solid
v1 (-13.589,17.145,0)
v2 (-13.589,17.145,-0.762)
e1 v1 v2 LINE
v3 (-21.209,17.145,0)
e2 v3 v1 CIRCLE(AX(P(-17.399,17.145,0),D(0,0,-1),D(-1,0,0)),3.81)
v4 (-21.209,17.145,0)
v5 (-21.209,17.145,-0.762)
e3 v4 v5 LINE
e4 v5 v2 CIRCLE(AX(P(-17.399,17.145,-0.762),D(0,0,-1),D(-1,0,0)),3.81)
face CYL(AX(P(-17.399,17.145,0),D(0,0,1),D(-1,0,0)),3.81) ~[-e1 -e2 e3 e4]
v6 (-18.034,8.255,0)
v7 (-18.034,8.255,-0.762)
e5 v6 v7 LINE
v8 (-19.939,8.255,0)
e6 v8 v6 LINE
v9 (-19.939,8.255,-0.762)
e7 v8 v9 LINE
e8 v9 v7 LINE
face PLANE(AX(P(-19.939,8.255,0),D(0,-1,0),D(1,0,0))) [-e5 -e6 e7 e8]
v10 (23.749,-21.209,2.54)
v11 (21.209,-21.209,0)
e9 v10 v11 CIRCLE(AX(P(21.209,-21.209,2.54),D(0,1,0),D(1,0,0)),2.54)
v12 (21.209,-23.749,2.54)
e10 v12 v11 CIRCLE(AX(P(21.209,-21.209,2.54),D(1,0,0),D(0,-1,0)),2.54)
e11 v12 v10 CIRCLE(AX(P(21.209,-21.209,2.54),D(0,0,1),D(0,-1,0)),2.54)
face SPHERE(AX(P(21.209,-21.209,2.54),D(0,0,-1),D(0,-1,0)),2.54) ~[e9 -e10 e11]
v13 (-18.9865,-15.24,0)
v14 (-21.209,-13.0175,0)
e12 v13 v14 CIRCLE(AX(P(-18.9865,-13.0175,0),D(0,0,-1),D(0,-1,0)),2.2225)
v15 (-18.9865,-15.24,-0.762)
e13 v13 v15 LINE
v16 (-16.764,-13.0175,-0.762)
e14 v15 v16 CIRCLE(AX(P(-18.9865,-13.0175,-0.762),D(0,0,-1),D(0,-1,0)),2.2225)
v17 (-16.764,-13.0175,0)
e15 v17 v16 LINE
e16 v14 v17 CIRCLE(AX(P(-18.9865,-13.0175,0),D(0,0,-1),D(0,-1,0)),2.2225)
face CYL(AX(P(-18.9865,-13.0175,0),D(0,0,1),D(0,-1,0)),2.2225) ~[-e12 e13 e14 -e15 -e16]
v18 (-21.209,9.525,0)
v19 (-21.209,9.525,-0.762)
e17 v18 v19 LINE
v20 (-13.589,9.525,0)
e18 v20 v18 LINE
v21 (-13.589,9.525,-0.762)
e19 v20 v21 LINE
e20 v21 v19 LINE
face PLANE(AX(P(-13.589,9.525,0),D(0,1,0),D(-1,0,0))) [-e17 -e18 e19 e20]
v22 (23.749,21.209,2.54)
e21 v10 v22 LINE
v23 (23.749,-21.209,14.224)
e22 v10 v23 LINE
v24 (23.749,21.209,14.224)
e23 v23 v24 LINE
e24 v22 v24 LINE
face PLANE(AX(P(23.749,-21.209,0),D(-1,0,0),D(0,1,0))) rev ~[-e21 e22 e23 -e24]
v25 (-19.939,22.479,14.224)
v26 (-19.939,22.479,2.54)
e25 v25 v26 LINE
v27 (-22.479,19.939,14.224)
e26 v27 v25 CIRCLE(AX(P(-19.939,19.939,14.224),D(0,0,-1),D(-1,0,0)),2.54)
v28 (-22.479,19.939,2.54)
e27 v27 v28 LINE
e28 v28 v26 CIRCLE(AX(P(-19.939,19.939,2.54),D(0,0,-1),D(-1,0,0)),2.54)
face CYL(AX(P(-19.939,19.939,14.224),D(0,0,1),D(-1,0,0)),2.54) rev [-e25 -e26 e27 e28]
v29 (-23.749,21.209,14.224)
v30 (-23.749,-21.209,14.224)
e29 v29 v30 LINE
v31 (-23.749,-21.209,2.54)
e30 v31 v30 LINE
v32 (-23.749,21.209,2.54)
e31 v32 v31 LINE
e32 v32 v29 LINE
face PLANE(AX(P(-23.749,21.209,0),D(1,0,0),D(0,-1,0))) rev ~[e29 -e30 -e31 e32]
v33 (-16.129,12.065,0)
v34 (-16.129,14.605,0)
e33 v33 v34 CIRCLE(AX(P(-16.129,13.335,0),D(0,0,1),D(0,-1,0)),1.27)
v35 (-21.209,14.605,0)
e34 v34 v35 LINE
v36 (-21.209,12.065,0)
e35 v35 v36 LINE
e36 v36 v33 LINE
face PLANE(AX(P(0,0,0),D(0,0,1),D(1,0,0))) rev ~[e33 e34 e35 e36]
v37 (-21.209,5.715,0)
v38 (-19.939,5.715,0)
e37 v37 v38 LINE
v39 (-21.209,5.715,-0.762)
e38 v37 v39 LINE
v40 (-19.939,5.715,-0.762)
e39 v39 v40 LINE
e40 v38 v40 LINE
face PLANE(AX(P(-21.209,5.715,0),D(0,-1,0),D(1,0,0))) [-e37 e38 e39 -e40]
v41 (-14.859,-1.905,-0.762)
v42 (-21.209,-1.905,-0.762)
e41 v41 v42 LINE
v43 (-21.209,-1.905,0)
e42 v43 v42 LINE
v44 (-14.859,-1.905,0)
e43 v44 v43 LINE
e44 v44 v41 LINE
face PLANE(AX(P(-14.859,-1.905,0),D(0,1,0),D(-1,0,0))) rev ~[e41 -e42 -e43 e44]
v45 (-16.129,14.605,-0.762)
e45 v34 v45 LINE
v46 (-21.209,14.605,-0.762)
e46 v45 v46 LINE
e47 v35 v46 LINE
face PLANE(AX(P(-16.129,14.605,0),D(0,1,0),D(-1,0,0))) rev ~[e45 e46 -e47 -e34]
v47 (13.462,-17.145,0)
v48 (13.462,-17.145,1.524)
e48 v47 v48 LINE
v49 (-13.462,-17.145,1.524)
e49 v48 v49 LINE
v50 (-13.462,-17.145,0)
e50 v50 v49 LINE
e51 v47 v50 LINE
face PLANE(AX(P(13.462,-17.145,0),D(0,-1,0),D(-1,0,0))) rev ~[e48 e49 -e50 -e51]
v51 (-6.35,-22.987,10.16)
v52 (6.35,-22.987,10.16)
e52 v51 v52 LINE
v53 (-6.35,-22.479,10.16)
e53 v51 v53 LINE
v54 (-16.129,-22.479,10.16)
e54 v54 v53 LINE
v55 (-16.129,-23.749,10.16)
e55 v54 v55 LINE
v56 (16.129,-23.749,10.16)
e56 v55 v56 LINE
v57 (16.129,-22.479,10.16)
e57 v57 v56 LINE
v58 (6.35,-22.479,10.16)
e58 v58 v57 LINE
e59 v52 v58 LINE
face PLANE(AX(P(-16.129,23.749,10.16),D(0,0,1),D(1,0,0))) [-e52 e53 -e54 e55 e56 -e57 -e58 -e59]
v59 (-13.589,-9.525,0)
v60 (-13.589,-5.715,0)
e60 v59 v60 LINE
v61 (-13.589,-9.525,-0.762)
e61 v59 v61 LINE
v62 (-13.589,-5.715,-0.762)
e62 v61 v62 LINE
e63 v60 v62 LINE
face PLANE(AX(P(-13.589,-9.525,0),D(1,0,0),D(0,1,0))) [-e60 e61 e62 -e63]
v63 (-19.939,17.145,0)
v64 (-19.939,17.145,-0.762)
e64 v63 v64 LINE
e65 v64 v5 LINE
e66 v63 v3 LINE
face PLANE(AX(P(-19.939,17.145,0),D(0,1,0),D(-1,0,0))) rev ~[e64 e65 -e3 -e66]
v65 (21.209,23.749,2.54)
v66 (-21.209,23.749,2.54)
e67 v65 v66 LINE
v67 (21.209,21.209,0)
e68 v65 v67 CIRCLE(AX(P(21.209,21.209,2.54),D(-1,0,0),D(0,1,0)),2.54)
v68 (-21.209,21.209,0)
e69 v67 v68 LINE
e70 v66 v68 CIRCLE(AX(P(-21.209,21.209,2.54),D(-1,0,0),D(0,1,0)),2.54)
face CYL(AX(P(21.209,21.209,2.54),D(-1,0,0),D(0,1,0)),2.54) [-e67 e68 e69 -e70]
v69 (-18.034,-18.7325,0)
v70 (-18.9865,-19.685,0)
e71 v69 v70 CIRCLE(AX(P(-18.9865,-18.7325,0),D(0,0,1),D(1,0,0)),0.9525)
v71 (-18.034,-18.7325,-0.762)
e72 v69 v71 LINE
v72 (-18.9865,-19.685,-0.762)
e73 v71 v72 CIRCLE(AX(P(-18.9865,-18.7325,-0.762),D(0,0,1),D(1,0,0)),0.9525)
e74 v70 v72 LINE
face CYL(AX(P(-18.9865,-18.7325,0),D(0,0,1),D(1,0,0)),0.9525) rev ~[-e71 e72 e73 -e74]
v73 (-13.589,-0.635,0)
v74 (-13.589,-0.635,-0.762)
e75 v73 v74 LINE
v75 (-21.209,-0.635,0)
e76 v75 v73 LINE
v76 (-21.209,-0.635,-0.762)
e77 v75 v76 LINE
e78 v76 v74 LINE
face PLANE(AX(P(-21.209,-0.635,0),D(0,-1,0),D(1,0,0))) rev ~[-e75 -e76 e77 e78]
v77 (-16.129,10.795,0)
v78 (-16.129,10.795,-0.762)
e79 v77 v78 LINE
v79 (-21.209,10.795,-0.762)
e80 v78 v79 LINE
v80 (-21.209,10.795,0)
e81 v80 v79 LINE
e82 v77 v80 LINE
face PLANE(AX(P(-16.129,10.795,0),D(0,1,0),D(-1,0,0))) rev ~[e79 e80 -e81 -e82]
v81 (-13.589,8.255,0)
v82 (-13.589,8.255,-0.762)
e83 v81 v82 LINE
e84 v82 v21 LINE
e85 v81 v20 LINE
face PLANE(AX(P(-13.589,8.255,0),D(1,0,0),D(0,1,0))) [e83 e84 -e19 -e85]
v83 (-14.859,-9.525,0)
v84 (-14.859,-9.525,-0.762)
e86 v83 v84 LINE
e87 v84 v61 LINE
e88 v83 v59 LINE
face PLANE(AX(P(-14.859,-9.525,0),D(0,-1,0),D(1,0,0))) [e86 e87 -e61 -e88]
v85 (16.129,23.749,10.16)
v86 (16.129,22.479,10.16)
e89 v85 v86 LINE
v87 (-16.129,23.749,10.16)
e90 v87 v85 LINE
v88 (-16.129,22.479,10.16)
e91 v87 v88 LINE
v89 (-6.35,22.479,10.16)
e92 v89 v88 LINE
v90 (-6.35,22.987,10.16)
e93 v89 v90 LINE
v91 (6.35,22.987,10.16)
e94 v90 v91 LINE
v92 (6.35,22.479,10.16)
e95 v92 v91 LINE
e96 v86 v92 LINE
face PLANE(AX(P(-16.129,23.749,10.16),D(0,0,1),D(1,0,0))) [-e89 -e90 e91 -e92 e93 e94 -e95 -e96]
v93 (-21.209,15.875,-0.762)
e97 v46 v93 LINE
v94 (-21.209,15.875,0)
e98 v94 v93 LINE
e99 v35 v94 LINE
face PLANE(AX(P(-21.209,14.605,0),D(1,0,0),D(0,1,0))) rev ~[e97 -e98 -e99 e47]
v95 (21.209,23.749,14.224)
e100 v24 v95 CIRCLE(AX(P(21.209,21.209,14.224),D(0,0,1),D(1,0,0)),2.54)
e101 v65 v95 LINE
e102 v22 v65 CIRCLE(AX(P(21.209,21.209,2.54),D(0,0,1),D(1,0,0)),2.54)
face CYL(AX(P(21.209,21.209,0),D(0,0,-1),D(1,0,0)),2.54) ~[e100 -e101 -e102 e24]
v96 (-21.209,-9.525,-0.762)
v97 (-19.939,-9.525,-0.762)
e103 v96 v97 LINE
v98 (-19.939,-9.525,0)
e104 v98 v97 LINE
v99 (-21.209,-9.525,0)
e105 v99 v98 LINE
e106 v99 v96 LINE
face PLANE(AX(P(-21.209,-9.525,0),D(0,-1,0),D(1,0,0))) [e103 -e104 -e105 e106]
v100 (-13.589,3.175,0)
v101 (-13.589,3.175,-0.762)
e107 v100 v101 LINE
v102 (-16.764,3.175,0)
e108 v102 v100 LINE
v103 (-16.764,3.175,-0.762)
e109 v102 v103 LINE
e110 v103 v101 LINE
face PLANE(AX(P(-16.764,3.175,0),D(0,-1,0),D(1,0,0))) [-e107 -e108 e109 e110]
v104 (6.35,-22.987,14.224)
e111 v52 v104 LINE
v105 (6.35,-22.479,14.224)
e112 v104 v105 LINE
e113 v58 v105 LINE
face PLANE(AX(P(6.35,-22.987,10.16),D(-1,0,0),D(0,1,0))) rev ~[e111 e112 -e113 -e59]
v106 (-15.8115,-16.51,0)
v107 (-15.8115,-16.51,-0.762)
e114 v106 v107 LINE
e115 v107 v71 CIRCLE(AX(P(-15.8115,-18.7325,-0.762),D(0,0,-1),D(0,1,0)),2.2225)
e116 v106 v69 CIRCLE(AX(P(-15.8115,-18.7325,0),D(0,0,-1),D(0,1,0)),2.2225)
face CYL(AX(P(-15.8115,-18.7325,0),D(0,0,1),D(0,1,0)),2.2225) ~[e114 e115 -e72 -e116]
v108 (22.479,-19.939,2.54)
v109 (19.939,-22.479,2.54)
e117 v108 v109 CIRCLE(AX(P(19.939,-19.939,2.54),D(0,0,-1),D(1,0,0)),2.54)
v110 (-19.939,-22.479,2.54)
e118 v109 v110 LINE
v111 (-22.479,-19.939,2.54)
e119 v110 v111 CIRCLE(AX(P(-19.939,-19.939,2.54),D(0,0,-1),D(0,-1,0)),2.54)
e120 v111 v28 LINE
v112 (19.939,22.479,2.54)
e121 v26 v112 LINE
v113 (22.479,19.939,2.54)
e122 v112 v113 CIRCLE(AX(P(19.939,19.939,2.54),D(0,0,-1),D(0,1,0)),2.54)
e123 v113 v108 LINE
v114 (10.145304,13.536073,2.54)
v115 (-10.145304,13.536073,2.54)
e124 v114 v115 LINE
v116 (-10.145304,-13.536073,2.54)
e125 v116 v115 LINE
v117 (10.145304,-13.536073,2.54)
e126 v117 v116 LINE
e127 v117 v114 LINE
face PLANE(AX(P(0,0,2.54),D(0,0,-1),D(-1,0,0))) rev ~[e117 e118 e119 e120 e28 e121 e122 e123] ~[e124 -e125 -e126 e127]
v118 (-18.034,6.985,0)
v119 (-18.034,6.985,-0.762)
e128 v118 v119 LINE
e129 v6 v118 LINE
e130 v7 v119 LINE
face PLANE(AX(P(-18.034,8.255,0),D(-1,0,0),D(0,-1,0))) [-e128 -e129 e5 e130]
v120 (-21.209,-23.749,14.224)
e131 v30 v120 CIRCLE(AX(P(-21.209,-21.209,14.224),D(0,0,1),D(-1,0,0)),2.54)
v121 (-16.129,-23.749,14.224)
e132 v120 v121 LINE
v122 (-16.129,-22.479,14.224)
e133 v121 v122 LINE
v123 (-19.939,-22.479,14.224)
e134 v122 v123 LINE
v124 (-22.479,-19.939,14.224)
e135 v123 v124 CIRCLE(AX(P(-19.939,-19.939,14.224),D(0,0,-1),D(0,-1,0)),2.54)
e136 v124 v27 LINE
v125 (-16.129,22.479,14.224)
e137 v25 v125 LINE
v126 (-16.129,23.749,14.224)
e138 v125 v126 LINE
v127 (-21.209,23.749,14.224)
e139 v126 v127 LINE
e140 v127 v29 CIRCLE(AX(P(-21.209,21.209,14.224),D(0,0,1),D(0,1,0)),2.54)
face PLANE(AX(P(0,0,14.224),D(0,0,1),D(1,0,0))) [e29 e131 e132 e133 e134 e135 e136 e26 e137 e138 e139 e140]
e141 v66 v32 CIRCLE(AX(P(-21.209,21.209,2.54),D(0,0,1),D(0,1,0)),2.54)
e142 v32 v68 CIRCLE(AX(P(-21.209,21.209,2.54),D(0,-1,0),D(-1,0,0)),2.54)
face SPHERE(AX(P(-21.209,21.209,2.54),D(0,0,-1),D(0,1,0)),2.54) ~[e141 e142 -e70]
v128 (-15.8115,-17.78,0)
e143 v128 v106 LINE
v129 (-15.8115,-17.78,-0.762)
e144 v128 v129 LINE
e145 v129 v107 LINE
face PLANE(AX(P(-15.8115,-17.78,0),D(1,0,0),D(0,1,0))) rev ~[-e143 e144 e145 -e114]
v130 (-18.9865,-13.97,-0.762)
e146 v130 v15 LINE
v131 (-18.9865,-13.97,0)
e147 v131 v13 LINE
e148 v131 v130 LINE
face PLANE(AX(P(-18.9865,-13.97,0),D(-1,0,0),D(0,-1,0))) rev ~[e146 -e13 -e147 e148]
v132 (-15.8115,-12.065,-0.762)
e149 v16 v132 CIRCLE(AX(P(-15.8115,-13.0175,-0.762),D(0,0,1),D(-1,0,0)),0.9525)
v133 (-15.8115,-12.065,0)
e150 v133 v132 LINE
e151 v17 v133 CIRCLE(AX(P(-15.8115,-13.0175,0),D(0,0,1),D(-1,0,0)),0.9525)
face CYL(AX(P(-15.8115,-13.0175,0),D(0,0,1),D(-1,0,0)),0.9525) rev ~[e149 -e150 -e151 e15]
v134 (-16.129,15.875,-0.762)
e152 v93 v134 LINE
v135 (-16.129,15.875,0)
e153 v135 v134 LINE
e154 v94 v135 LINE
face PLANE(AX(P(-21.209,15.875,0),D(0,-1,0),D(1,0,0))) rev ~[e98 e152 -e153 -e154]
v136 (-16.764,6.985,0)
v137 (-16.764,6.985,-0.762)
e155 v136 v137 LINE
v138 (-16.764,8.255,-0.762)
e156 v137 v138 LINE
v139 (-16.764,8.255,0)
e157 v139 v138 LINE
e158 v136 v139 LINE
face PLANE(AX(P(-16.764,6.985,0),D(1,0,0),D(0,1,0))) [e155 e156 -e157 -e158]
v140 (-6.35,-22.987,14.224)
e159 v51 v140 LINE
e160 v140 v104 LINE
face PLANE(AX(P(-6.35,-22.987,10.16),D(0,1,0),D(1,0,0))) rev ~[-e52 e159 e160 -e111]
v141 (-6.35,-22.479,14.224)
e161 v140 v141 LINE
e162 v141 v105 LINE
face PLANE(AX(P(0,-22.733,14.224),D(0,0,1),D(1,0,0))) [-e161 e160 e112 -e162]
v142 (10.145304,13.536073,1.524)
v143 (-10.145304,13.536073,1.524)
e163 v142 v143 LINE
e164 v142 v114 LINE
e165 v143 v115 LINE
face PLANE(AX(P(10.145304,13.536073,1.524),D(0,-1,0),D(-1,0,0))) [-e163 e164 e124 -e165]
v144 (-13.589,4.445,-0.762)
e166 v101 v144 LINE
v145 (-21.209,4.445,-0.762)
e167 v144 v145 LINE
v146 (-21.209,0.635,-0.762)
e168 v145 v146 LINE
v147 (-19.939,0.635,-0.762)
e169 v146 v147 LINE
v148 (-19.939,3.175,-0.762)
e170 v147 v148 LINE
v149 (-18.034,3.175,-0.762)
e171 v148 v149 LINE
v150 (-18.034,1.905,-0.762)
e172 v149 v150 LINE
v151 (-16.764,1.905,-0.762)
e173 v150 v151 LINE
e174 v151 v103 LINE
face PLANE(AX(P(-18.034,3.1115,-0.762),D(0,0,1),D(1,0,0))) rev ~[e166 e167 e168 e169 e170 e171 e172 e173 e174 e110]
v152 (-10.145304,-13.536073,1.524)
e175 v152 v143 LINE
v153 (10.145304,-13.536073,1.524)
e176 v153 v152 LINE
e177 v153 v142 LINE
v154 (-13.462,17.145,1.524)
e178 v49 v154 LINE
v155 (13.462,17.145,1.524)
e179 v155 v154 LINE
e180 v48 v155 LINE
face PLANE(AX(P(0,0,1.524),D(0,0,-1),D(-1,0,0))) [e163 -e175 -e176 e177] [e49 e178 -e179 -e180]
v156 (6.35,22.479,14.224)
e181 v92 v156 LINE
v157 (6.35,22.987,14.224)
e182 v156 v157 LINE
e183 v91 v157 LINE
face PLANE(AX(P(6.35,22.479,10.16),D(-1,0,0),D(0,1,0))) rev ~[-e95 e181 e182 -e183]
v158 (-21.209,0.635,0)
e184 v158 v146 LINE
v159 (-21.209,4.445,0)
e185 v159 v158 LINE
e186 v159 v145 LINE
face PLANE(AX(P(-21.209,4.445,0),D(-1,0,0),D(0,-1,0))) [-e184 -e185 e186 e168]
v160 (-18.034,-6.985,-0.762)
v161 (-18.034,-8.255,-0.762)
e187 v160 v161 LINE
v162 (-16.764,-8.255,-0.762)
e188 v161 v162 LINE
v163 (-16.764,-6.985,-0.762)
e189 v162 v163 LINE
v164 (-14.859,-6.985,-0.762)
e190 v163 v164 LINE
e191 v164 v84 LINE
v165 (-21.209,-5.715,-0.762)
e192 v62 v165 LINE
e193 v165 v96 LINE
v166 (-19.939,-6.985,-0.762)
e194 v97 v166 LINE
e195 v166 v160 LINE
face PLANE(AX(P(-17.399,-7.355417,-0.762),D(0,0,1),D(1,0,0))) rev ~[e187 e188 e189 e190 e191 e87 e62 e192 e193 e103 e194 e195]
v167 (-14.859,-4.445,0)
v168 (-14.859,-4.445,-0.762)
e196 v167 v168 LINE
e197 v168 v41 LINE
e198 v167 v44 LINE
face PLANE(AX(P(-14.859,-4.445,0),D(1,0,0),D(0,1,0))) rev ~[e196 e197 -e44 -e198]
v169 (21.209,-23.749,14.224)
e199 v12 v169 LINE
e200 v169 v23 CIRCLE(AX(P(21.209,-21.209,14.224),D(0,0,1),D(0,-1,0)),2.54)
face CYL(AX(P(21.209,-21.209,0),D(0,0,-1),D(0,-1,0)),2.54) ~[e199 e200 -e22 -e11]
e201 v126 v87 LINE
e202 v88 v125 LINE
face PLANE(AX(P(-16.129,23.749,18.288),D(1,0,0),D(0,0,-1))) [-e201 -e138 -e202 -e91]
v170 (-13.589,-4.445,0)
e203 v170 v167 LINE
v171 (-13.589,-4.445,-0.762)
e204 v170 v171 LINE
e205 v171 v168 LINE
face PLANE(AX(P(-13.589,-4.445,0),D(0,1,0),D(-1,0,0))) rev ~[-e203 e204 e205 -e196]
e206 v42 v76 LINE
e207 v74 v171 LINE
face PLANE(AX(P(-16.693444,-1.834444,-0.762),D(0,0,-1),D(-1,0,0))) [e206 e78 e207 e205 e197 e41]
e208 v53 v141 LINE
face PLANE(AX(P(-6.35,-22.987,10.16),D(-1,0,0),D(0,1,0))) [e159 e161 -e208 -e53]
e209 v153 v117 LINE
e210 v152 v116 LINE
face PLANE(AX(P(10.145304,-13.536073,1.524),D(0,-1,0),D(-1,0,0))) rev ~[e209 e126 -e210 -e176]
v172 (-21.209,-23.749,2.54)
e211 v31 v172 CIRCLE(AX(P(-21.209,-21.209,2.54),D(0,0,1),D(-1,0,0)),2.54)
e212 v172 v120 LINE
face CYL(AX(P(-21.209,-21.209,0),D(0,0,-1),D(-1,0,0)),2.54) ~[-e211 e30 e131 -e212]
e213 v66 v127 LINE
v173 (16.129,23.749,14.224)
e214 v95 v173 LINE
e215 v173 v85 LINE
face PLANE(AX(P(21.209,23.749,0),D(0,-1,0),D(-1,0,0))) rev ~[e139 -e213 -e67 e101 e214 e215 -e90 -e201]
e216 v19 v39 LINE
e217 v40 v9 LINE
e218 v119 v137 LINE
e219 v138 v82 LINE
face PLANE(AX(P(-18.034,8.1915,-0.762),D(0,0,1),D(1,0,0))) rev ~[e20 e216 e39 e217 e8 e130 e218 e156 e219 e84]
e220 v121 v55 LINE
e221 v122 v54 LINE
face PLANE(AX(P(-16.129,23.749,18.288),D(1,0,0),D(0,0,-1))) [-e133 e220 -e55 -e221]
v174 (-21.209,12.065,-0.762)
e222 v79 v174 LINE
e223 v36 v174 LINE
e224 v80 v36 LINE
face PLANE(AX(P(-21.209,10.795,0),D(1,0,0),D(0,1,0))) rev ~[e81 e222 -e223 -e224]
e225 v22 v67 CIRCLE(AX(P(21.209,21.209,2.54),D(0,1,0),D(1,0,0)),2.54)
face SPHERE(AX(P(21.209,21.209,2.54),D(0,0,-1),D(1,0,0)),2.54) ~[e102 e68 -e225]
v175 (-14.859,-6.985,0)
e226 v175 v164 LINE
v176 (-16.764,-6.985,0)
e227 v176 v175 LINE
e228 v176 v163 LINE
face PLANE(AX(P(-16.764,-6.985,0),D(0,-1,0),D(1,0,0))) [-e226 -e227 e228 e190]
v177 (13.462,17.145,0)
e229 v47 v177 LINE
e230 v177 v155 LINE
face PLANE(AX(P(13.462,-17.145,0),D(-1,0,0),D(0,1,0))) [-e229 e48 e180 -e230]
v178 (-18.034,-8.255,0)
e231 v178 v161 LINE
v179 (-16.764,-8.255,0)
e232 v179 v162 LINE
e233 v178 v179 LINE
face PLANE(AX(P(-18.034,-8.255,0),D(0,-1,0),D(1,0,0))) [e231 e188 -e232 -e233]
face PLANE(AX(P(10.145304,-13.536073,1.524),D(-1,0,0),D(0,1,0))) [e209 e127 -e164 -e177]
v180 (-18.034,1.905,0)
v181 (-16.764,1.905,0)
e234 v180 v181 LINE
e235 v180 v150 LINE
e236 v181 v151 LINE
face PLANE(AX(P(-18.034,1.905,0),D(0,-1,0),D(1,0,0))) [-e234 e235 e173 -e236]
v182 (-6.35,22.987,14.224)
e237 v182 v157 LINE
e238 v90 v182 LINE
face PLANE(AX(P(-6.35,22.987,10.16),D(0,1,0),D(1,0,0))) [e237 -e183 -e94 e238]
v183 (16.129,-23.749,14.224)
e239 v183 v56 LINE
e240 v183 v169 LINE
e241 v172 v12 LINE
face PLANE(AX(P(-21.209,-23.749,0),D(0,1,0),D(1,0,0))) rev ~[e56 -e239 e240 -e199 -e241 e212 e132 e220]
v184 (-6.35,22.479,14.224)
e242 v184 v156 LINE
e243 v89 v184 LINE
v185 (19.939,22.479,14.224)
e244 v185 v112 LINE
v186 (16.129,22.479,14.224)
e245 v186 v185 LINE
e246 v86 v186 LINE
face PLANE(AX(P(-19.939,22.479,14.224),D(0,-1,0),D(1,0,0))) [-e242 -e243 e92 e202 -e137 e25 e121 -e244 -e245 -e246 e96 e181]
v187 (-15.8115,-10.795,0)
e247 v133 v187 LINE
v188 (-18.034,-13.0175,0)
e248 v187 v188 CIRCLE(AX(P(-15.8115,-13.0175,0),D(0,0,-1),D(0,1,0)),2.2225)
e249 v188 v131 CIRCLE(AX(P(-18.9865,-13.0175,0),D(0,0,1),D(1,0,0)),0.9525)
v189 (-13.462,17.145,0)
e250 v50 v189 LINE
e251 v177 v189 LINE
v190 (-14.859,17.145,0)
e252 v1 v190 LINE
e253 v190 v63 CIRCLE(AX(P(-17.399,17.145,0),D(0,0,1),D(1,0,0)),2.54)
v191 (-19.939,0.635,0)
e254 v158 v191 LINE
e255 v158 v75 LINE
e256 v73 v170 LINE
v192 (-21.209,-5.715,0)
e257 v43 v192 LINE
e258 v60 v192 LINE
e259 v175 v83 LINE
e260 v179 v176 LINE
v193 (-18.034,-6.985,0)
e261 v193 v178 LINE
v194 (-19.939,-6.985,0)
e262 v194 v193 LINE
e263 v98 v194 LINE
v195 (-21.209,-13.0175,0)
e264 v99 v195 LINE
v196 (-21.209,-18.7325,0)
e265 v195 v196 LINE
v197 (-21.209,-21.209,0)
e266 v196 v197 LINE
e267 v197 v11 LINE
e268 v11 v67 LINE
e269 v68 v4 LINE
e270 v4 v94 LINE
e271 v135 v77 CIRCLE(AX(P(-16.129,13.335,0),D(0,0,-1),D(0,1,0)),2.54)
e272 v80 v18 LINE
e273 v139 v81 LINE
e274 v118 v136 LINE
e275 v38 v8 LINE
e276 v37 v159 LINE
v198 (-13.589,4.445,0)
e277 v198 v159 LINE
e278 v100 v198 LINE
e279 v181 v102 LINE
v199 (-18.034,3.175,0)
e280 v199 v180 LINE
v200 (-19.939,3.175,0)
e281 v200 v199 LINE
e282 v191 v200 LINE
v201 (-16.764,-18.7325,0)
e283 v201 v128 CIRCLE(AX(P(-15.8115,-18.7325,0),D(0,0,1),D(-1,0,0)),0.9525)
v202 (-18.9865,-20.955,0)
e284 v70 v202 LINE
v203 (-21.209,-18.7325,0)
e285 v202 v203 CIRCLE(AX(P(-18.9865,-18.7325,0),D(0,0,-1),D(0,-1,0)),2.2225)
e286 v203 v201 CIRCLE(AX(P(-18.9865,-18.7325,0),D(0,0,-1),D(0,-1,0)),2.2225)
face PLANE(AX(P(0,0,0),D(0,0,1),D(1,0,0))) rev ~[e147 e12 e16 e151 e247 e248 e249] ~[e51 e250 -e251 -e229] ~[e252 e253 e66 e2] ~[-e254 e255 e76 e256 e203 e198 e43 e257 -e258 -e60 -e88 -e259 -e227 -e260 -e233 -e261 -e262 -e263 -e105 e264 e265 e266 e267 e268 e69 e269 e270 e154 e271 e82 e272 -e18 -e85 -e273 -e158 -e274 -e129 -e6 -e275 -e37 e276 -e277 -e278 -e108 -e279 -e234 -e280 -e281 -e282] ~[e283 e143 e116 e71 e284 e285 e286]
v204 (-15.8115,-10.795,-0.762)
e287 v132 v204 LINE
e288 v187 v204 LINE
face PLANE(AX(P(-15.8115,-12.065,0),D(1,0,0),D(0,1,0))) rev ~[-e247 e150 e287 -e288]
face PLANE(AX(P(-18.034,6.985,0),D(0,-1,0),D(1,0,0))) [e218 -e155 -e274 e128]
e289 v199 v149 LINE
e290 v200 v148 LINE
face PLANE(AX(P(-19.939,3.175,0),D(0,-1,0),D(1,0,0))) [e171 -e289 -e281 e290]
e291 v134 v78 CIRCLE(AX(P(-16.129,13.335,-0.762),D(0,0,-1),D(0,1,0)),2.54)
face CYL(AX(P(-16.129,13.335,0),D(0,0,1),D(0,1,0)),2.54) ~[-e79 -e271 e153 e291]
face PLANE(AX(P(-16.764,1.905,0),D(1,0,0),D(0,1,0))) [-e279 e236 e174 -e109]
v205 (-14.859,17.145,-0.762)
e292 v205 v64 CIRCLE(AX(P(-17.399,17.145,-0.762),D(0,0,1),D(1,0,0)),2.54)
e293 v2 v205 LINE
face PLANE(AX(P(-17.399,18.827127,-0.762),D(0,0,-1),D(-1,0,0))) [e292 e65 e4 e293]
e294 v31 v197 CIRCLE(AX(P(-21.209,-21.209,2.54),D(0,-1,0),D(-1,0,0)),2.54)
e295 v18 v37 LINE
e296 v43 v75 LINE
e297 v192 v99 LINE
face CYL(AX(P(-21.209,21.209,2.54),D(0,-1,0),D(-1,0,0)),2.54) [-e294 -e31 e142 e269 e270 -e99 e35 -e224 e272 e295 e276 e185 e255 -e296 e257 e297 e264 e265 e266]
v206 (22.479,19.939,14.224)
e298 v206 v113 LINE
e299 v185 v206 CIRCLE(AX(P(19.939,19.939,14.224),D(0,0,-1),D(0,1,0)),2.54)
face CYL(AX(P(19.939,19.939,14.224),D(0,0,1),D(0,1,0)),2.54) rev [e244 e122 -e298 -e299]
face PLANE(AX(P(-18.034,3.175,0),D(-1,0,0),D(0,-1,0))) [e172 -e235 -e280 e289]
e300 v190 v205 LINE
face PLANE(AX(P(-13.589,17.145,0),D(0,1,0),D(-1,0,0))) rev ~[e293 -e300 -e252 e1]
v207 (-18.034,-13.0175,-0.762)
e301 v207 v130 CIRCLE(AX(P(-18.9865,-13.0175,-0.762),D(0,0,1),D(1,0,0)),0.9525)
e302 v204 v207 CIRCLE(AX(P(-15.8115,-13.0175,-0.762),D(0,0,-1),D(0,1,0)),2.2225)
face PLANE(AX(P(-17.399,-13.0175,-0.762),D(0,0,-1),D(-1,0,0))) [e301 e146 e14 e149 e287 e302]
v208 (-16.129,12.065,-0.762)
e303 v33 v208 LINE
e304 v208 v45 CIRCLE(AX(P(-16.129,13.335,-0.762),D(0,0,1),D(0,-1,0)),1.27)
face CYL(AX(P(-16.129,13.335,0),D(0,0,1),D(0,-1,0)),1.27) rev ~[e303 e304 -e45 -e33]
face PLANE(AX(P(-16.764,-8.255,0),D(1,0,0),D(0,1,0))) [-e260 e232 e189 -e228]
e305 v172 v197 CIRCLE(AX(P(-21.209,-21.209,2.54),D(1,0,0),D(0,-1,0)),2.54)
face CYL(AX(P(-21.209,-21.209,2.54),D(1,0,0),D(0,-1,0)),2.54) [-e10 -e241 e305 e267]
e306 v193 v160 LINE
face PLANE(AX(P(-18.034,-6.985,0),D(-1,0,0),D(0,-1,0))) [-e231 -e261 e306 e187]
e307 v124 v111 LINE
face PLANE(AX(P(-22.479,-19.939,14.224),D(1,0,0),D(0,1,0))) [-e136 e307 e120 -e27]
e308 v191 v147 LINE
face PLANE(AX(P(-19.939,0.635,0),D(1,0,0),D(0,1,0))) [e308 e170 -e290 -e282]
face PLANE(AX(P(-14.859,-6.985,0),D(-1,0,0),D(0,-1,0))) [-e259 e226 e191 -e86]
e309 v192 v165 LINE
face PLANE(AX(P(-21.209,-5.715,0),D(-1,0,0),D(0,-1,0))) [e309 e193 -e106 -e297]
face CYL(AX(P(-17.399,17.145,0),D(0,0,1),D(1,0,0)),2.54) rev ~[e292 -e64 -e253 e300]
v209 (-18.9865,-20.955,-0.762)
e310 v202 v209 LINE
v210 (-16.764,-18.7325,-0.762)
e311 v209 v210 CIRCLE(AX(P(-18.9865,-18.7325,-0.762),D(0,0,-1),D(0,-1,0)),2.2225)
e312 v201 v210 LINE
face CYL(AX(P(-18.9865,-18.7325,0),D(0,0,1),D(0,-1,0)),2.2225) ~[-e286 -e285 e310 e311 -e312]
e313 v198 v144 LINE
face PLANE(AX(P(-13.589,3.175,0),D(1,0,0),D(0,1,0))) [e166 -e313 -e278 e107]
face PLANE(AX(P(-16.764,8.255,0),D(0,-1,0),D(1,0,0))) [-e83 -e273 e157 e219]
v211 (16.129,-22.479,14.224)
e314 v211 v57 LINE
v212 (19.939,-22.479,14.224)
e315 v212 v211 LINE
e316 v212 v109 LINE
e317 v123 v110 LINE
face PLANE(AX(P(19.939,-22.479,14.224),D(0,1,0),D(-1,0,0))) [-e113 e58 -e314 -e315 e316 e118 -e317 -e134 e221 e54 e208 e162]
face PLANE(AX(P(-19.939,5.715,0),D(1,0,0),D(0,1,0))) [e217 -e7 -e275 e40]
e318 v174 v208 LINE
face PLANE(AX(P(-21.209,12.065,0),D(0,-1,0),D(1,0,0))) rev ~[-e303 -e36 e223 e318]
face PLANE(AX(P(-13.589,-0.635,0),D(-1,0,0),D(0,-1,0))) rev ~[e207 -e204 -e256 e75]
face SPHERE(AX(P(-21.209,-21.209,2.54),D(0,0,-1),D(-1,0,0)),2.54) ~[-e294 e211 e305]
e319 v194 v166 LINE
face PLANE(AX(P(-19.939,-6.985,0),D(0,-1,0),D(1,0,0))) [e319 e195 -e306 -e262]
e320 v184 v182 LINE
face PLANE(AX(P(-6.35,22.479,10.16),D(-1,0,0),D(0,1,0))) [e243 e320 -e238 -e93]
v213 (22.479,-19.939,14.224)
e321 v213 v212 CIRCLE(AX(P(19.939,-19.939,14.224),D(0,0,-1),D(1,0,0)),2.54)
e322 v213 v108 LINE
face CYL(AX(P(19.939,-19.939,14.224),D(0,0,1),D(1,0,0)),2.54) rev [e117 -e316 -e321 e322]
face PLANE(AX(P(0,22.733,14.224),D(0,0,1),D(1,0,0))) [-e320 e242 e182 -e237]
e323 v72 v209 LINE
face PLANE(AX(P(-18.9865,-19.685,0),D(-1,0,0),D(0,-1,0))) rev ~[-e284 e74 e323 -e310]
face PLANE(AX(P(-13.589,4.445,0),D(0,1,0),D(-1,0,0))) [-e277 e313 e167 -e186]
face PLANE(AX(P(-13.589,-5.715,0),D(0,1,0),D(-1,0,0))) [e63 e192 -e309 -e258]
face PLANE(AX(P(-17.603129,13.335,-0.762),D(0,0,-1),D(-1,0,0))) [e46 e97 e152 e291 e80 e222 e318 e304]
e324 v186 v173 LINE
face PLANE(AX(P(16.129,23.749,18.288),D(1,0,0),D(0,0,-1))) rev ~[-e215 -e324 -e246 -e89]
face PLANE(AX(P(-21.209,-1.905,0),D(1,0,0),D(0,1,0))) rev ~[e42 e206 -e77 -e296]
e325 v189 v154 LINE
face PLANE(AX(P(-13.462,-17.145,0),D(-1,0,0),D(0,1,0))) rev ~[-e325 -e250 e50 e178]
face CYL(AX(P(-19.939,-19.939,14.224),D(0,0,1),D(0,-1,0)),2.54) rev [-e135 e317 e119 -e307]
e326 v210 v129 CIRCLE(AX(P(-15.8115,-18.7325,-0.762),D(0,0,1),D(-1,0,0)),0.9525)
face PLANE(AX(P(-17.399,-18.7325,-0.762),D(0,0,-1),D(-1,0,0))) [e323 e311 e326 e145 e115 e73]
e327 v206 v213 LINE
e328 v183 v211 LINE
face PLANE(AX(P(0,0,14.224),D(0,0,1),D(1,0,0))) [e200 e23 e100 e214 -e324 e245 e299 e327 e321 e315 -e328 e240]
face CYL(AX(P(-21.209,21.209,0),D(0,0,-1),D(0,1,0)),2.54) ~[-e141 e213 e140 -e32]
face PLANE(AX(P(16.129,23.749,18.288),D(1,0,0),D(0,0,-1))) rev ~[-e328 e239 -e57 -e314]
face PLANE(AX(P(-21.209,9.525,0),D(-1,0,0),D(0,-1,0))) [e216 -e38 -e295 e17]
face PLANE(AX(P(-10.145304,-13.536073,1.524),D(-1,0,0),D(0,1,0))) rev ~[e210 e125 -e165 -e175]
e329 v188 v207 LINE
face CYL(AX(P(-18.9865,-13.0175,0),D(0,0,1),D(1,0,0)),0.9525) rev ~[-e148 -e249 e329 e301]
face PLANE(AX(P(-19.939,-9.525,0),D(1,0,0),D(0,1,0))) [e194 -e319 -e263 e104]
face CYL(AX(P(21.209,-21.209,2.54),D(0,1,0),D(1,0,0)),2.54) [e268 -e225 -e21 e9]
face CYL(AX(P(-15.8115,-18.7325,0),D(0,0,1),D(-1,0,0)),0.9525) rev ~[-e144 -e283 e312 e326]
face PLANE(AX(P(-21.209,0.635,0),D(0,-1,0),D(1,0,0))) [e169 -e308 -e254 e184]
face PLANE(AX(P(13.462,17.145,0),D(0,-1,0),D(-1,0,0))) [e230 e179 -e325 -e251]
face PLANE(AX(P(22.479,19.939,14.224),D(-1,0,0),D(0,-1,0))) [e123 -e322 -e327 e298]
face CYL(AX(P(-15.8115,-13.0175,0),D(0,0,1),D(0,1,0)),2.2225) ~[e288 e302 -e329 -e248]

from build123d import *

# Parameters (mm, degrees)
BOSS_EXTRUDE1_DEPTH     = 14.224
CUT_EXTRUDE1_DEPTH      = 11.684
FILLET1_R               = 2.54
SKETCH3_W               = 32.258
SKETCH3_H               = 8.128
CUT_EXTRUDE2_DEPTH      = 1
CUT_EXTRUDE2_DEPTH_BACK = 48.498
SKETCH5_W               = 26.924
SKETCH5_H               = 34.29
CUT_EXTRUDE4_DEPTH      = 1.524
SKETCH6_W               = 20.290608306
SKETCH6_H               = 27.072145664
CUT_EXTRUDE5_DEPTH      = 1.524
BOSS_EXTRUDE2_DEPTH     = 0.762
SKETCH8_W               = 12.7
SKETCH8_H               = 0.508
BOSS_EXTRUDE3_DEPTH     = 4.064


with BuildPart() as part:
    # Sketch1 → Boss-Extrude1 (new body)
    with BuildSketch(Plane.XY):
        with BuildLine():
            Line((-21.209, -23.749), (21.209, -23.749))
            ThreePointArc((21.209, -23.749), (23.005051224, -23.005051224), (23.749, -21.209))
            Line((23.749, -21.209), (23.749, 21.209))
            ThreePointArc((23.749, 21.209), (23.005051224, 23.005051224), (21.209, 23.749))
            Line((21.209, 23.749), (-21.209, 23.749))
            ThreePointArc((-21.209, 23.749), (-23.005051224, 23.005051224), (-23.749, 21.209))
            Line((-23.749, 21.209), (-23.749, -21.209))
            ThreePointArc((-23.749, -21.209), (-23.005051224, -23.005051224), (-21.209, -23.749))
        make_face()
    extrude(amount=BOSS_EXTRUDE1_DEPTH)

    # Sketch2 → Cut-Extrude1 (cut)
    with BuildSketch(Plane.XY.offset(14.224)):
        with BuildLine():
            Line((19.939, -22.479), (-19.939, -22.479))
            ThreePointArc((-19.939, -22.479), (-21.735051224, -21.735051224), (-22.479, -19.939))
            Line((-22.479, -19.939), (-22.479, 19.939))
            ThreePointArc((-22.479, 19.939), (-21.735051224, 21.735051224), (-19.939, 22.479))
            Line((-19.939, 22.479), (19.939, 22.479))
            ThreePointArc((19.939, 22.479), (21.735051224, 21.735051224), (22.479, 19.939))
            Line((22.479, 19.939), (22.479, -19.939))
            ThreePointArc((22.479, -19.939), (21.735051224, -21.735051224), (19.939, -22.479))
        make_face()
    extrude(amount=-CUT_EXTRUDE1_DEPTH, mode=Mode.SUBTRACT)

    # Fillet1
    fillet1_edges = [part.edges().sort_by_distance(p)[0] for p in [
        (0, -23.749, 0),
        (-23.005051224, -23.005051224, 0),
        (-23.749, 0, 0),
        (-23.005051224, 23.005051224, 0),
        (0, 23.749, 0),
        (23.005051224, 23.005051224, 0),
        (23.749, 0, 0),
        (23.005051224, -23.005051224, 0),
    ]]
    fillet(fillet1_edges, radius=FILLET1_R)

    # Sketch3 → Cut-Extrude2 (cut, two sides)
    with BuildSketch(Plane(origin=(0, 23.749, 0), x_dir=(1, 0, 0), z_dir=(0, 1, 0))) as cut_extrude2_sk:
        with Locations((0, -14.224)):
            Rectangle(SKETCH3_W, SKETCH3_H)
    extrude(amount=CUT_EXTRUDE2_DEPTH, mode=Mode.SUBTRACT)
    extrude(cut_extrude2_sk.sketch, amount=-CUT_EXTRUDE2_DEPTH_BACK, mode=Mode.SUBTRACT)

    # Sketch5 → Cut-Extrude4 (cut)
    with BuildSketch(Plane(origin=(0, 0, 0), x_dir=(-1, 0, 0), z_dir=(0, 0, -1))):
        Rectangle(SKETCH5_W, SKETCH5_H)
    extrude(amount=-CUT_EXTRUDE4_DEPTH, mode=Mode.SUBTRACT)

    # Sketch6 → Cut-Extrude5 (cut)
    with BuildSketch(Plane(origin=(0, 0, 1.524), x_dir=(-1, 0, 0), z_dir=(0, 0, -1))):
        Rectangle(SKETCH6_W, SKETCH6_H)
    extrude(amount=-CUT_EXTRUDE5_DEPTH, mode=Mode.SUBTRACT)

    # Sketch7 → Boss-Extrude2 (add)
    with BuildSketch(Plane(origin=(0, 0, 0), x_dir=(-1, 0, 0), z_dir=(0, 0, -1))):
        with BuildLine():
            Line((19.939, 17.145), (21.209, 17.145))
            ThreePointArc((21.209, 17.145), (17.399, 20.955), (13.589, 17.145))
            Line((13.589, 17.145), (14.859, 17.145))
            ThreePointArc((14.859, 17.145), (17.399, 19.685), (19.939, 17.145))
        make_face()
        with BuildLine():
            Line((21.209, 15.875), (16.129, 15.875))
            ThreePointArc((16.129, 15.875), (13.589, 13.335), (16.129, 10.795))
            Line((16.129, 10.795), (21.209, 10.795))
            Line((21.209, 10.795), (21.209, 12.065))
            Line((21.209, 12.065), (16.129, 12.065))
            ThreePointArc((16.129, 12.065), (14.859, 13.335), (16.129, 14.605))
            Line((16.129, 14.605), (21.209, 14.605))
            Line((21.209, 14.605), (21.209, 15.875))
        make_face()
        Polygon((13.589, 9.525), (21.209, 9.525), (21.209, 5.715), (19.939, 5.715), (19.939, 8.255), (18.034, 8.255), (18.034, 6.985), (16.764, 6.985), (16.764, 8.255), (13.589, 8.255), align=None)
        Polygon((13.589, 4.445), (21.209, 4.445), (21.209, 0.635), (19.939, 0.635), (19.939, 3.175), (18.034, 3.175), (18.034, 1.905), (16.764, 1.905), (16.764, 3.175), (13.589, 3.175), align=None)
        Polygon((21.209, -0.635), (13.589, -0.635), (13.589, -4.445), (14.859, -4.445), (14.859, -1.905), (21.209, -1.905), align=None)
        Polygon((13.589, -5.715), (21.209, -5.715), (21.209, -9.525), (19.939, -9.525), (19.939, -6.985), (18.034, -6.985), (18.034, -8.255), (16.764, -8.255), (16.764, -6.985), (14.859, -6.985), (14.859, -9.525), (13.589, -9.525), align=None)
        with BuildLine():
            Line((18.9865, -13.97), (18.9865, -15.24))
            ThreePointArc((18.9865, -15.24), (20.558044821, -11.445955179), (16.764, -13.0175))
            ThreePointArc((16.764, -13.0175), (15.137980791, -13.691019209), (15.8115, -12.065))
            Line((15.8115, -12.065), (15.8115, -10.795))
            ThreePointArc((15.8115, -10.795), (14.239955179, -14.589044821), (18.034, -13.0175))
            ThreePointArc((18.034, -13.0175), (19.660019209, -12.343980791), (18.9865, -13.97))
        make_face()
        with BuildLine():
            Line((15.8115, -17.78), (15.8115, -16.51))
            ThreePointArc((15.8115, -16.51), (14.239955179, -20.304044821), (18.034, -18.7325))
            ThreePointArc((18.034, -18.7325), (19.660019209, -18.058980791), (18.9865, -19.685))
            Line((18.9865, -19.685), (18.9865, -20.955))
            ThreePointArc((18.9865, -20.955), (20.558044821, -17.160955179), (16.764, -18.7325))
            ThreePointArc((16.764, -18.7325), (15.137980791, -19.406019209), (15.8115, -17.78))
        make_face()
    extrude(amount=BOSS_EXTRUDE2_DEPTH)

    # Sketch8 → Boss-Extrude3 (add)
    with BuildSketch(Plane.XY.offset(10.16)):
        with Locations((0, 22.733)):
            Rectangle(SKETCH8_W, SKETCH8_H)
        with Locations((0, -22.733)):
            Rectangle(SKETCH8_W, SKETCH8_H)
    extrude(amount=BOSS_EXTRUDE3_DEPTH)


solid = part.part
